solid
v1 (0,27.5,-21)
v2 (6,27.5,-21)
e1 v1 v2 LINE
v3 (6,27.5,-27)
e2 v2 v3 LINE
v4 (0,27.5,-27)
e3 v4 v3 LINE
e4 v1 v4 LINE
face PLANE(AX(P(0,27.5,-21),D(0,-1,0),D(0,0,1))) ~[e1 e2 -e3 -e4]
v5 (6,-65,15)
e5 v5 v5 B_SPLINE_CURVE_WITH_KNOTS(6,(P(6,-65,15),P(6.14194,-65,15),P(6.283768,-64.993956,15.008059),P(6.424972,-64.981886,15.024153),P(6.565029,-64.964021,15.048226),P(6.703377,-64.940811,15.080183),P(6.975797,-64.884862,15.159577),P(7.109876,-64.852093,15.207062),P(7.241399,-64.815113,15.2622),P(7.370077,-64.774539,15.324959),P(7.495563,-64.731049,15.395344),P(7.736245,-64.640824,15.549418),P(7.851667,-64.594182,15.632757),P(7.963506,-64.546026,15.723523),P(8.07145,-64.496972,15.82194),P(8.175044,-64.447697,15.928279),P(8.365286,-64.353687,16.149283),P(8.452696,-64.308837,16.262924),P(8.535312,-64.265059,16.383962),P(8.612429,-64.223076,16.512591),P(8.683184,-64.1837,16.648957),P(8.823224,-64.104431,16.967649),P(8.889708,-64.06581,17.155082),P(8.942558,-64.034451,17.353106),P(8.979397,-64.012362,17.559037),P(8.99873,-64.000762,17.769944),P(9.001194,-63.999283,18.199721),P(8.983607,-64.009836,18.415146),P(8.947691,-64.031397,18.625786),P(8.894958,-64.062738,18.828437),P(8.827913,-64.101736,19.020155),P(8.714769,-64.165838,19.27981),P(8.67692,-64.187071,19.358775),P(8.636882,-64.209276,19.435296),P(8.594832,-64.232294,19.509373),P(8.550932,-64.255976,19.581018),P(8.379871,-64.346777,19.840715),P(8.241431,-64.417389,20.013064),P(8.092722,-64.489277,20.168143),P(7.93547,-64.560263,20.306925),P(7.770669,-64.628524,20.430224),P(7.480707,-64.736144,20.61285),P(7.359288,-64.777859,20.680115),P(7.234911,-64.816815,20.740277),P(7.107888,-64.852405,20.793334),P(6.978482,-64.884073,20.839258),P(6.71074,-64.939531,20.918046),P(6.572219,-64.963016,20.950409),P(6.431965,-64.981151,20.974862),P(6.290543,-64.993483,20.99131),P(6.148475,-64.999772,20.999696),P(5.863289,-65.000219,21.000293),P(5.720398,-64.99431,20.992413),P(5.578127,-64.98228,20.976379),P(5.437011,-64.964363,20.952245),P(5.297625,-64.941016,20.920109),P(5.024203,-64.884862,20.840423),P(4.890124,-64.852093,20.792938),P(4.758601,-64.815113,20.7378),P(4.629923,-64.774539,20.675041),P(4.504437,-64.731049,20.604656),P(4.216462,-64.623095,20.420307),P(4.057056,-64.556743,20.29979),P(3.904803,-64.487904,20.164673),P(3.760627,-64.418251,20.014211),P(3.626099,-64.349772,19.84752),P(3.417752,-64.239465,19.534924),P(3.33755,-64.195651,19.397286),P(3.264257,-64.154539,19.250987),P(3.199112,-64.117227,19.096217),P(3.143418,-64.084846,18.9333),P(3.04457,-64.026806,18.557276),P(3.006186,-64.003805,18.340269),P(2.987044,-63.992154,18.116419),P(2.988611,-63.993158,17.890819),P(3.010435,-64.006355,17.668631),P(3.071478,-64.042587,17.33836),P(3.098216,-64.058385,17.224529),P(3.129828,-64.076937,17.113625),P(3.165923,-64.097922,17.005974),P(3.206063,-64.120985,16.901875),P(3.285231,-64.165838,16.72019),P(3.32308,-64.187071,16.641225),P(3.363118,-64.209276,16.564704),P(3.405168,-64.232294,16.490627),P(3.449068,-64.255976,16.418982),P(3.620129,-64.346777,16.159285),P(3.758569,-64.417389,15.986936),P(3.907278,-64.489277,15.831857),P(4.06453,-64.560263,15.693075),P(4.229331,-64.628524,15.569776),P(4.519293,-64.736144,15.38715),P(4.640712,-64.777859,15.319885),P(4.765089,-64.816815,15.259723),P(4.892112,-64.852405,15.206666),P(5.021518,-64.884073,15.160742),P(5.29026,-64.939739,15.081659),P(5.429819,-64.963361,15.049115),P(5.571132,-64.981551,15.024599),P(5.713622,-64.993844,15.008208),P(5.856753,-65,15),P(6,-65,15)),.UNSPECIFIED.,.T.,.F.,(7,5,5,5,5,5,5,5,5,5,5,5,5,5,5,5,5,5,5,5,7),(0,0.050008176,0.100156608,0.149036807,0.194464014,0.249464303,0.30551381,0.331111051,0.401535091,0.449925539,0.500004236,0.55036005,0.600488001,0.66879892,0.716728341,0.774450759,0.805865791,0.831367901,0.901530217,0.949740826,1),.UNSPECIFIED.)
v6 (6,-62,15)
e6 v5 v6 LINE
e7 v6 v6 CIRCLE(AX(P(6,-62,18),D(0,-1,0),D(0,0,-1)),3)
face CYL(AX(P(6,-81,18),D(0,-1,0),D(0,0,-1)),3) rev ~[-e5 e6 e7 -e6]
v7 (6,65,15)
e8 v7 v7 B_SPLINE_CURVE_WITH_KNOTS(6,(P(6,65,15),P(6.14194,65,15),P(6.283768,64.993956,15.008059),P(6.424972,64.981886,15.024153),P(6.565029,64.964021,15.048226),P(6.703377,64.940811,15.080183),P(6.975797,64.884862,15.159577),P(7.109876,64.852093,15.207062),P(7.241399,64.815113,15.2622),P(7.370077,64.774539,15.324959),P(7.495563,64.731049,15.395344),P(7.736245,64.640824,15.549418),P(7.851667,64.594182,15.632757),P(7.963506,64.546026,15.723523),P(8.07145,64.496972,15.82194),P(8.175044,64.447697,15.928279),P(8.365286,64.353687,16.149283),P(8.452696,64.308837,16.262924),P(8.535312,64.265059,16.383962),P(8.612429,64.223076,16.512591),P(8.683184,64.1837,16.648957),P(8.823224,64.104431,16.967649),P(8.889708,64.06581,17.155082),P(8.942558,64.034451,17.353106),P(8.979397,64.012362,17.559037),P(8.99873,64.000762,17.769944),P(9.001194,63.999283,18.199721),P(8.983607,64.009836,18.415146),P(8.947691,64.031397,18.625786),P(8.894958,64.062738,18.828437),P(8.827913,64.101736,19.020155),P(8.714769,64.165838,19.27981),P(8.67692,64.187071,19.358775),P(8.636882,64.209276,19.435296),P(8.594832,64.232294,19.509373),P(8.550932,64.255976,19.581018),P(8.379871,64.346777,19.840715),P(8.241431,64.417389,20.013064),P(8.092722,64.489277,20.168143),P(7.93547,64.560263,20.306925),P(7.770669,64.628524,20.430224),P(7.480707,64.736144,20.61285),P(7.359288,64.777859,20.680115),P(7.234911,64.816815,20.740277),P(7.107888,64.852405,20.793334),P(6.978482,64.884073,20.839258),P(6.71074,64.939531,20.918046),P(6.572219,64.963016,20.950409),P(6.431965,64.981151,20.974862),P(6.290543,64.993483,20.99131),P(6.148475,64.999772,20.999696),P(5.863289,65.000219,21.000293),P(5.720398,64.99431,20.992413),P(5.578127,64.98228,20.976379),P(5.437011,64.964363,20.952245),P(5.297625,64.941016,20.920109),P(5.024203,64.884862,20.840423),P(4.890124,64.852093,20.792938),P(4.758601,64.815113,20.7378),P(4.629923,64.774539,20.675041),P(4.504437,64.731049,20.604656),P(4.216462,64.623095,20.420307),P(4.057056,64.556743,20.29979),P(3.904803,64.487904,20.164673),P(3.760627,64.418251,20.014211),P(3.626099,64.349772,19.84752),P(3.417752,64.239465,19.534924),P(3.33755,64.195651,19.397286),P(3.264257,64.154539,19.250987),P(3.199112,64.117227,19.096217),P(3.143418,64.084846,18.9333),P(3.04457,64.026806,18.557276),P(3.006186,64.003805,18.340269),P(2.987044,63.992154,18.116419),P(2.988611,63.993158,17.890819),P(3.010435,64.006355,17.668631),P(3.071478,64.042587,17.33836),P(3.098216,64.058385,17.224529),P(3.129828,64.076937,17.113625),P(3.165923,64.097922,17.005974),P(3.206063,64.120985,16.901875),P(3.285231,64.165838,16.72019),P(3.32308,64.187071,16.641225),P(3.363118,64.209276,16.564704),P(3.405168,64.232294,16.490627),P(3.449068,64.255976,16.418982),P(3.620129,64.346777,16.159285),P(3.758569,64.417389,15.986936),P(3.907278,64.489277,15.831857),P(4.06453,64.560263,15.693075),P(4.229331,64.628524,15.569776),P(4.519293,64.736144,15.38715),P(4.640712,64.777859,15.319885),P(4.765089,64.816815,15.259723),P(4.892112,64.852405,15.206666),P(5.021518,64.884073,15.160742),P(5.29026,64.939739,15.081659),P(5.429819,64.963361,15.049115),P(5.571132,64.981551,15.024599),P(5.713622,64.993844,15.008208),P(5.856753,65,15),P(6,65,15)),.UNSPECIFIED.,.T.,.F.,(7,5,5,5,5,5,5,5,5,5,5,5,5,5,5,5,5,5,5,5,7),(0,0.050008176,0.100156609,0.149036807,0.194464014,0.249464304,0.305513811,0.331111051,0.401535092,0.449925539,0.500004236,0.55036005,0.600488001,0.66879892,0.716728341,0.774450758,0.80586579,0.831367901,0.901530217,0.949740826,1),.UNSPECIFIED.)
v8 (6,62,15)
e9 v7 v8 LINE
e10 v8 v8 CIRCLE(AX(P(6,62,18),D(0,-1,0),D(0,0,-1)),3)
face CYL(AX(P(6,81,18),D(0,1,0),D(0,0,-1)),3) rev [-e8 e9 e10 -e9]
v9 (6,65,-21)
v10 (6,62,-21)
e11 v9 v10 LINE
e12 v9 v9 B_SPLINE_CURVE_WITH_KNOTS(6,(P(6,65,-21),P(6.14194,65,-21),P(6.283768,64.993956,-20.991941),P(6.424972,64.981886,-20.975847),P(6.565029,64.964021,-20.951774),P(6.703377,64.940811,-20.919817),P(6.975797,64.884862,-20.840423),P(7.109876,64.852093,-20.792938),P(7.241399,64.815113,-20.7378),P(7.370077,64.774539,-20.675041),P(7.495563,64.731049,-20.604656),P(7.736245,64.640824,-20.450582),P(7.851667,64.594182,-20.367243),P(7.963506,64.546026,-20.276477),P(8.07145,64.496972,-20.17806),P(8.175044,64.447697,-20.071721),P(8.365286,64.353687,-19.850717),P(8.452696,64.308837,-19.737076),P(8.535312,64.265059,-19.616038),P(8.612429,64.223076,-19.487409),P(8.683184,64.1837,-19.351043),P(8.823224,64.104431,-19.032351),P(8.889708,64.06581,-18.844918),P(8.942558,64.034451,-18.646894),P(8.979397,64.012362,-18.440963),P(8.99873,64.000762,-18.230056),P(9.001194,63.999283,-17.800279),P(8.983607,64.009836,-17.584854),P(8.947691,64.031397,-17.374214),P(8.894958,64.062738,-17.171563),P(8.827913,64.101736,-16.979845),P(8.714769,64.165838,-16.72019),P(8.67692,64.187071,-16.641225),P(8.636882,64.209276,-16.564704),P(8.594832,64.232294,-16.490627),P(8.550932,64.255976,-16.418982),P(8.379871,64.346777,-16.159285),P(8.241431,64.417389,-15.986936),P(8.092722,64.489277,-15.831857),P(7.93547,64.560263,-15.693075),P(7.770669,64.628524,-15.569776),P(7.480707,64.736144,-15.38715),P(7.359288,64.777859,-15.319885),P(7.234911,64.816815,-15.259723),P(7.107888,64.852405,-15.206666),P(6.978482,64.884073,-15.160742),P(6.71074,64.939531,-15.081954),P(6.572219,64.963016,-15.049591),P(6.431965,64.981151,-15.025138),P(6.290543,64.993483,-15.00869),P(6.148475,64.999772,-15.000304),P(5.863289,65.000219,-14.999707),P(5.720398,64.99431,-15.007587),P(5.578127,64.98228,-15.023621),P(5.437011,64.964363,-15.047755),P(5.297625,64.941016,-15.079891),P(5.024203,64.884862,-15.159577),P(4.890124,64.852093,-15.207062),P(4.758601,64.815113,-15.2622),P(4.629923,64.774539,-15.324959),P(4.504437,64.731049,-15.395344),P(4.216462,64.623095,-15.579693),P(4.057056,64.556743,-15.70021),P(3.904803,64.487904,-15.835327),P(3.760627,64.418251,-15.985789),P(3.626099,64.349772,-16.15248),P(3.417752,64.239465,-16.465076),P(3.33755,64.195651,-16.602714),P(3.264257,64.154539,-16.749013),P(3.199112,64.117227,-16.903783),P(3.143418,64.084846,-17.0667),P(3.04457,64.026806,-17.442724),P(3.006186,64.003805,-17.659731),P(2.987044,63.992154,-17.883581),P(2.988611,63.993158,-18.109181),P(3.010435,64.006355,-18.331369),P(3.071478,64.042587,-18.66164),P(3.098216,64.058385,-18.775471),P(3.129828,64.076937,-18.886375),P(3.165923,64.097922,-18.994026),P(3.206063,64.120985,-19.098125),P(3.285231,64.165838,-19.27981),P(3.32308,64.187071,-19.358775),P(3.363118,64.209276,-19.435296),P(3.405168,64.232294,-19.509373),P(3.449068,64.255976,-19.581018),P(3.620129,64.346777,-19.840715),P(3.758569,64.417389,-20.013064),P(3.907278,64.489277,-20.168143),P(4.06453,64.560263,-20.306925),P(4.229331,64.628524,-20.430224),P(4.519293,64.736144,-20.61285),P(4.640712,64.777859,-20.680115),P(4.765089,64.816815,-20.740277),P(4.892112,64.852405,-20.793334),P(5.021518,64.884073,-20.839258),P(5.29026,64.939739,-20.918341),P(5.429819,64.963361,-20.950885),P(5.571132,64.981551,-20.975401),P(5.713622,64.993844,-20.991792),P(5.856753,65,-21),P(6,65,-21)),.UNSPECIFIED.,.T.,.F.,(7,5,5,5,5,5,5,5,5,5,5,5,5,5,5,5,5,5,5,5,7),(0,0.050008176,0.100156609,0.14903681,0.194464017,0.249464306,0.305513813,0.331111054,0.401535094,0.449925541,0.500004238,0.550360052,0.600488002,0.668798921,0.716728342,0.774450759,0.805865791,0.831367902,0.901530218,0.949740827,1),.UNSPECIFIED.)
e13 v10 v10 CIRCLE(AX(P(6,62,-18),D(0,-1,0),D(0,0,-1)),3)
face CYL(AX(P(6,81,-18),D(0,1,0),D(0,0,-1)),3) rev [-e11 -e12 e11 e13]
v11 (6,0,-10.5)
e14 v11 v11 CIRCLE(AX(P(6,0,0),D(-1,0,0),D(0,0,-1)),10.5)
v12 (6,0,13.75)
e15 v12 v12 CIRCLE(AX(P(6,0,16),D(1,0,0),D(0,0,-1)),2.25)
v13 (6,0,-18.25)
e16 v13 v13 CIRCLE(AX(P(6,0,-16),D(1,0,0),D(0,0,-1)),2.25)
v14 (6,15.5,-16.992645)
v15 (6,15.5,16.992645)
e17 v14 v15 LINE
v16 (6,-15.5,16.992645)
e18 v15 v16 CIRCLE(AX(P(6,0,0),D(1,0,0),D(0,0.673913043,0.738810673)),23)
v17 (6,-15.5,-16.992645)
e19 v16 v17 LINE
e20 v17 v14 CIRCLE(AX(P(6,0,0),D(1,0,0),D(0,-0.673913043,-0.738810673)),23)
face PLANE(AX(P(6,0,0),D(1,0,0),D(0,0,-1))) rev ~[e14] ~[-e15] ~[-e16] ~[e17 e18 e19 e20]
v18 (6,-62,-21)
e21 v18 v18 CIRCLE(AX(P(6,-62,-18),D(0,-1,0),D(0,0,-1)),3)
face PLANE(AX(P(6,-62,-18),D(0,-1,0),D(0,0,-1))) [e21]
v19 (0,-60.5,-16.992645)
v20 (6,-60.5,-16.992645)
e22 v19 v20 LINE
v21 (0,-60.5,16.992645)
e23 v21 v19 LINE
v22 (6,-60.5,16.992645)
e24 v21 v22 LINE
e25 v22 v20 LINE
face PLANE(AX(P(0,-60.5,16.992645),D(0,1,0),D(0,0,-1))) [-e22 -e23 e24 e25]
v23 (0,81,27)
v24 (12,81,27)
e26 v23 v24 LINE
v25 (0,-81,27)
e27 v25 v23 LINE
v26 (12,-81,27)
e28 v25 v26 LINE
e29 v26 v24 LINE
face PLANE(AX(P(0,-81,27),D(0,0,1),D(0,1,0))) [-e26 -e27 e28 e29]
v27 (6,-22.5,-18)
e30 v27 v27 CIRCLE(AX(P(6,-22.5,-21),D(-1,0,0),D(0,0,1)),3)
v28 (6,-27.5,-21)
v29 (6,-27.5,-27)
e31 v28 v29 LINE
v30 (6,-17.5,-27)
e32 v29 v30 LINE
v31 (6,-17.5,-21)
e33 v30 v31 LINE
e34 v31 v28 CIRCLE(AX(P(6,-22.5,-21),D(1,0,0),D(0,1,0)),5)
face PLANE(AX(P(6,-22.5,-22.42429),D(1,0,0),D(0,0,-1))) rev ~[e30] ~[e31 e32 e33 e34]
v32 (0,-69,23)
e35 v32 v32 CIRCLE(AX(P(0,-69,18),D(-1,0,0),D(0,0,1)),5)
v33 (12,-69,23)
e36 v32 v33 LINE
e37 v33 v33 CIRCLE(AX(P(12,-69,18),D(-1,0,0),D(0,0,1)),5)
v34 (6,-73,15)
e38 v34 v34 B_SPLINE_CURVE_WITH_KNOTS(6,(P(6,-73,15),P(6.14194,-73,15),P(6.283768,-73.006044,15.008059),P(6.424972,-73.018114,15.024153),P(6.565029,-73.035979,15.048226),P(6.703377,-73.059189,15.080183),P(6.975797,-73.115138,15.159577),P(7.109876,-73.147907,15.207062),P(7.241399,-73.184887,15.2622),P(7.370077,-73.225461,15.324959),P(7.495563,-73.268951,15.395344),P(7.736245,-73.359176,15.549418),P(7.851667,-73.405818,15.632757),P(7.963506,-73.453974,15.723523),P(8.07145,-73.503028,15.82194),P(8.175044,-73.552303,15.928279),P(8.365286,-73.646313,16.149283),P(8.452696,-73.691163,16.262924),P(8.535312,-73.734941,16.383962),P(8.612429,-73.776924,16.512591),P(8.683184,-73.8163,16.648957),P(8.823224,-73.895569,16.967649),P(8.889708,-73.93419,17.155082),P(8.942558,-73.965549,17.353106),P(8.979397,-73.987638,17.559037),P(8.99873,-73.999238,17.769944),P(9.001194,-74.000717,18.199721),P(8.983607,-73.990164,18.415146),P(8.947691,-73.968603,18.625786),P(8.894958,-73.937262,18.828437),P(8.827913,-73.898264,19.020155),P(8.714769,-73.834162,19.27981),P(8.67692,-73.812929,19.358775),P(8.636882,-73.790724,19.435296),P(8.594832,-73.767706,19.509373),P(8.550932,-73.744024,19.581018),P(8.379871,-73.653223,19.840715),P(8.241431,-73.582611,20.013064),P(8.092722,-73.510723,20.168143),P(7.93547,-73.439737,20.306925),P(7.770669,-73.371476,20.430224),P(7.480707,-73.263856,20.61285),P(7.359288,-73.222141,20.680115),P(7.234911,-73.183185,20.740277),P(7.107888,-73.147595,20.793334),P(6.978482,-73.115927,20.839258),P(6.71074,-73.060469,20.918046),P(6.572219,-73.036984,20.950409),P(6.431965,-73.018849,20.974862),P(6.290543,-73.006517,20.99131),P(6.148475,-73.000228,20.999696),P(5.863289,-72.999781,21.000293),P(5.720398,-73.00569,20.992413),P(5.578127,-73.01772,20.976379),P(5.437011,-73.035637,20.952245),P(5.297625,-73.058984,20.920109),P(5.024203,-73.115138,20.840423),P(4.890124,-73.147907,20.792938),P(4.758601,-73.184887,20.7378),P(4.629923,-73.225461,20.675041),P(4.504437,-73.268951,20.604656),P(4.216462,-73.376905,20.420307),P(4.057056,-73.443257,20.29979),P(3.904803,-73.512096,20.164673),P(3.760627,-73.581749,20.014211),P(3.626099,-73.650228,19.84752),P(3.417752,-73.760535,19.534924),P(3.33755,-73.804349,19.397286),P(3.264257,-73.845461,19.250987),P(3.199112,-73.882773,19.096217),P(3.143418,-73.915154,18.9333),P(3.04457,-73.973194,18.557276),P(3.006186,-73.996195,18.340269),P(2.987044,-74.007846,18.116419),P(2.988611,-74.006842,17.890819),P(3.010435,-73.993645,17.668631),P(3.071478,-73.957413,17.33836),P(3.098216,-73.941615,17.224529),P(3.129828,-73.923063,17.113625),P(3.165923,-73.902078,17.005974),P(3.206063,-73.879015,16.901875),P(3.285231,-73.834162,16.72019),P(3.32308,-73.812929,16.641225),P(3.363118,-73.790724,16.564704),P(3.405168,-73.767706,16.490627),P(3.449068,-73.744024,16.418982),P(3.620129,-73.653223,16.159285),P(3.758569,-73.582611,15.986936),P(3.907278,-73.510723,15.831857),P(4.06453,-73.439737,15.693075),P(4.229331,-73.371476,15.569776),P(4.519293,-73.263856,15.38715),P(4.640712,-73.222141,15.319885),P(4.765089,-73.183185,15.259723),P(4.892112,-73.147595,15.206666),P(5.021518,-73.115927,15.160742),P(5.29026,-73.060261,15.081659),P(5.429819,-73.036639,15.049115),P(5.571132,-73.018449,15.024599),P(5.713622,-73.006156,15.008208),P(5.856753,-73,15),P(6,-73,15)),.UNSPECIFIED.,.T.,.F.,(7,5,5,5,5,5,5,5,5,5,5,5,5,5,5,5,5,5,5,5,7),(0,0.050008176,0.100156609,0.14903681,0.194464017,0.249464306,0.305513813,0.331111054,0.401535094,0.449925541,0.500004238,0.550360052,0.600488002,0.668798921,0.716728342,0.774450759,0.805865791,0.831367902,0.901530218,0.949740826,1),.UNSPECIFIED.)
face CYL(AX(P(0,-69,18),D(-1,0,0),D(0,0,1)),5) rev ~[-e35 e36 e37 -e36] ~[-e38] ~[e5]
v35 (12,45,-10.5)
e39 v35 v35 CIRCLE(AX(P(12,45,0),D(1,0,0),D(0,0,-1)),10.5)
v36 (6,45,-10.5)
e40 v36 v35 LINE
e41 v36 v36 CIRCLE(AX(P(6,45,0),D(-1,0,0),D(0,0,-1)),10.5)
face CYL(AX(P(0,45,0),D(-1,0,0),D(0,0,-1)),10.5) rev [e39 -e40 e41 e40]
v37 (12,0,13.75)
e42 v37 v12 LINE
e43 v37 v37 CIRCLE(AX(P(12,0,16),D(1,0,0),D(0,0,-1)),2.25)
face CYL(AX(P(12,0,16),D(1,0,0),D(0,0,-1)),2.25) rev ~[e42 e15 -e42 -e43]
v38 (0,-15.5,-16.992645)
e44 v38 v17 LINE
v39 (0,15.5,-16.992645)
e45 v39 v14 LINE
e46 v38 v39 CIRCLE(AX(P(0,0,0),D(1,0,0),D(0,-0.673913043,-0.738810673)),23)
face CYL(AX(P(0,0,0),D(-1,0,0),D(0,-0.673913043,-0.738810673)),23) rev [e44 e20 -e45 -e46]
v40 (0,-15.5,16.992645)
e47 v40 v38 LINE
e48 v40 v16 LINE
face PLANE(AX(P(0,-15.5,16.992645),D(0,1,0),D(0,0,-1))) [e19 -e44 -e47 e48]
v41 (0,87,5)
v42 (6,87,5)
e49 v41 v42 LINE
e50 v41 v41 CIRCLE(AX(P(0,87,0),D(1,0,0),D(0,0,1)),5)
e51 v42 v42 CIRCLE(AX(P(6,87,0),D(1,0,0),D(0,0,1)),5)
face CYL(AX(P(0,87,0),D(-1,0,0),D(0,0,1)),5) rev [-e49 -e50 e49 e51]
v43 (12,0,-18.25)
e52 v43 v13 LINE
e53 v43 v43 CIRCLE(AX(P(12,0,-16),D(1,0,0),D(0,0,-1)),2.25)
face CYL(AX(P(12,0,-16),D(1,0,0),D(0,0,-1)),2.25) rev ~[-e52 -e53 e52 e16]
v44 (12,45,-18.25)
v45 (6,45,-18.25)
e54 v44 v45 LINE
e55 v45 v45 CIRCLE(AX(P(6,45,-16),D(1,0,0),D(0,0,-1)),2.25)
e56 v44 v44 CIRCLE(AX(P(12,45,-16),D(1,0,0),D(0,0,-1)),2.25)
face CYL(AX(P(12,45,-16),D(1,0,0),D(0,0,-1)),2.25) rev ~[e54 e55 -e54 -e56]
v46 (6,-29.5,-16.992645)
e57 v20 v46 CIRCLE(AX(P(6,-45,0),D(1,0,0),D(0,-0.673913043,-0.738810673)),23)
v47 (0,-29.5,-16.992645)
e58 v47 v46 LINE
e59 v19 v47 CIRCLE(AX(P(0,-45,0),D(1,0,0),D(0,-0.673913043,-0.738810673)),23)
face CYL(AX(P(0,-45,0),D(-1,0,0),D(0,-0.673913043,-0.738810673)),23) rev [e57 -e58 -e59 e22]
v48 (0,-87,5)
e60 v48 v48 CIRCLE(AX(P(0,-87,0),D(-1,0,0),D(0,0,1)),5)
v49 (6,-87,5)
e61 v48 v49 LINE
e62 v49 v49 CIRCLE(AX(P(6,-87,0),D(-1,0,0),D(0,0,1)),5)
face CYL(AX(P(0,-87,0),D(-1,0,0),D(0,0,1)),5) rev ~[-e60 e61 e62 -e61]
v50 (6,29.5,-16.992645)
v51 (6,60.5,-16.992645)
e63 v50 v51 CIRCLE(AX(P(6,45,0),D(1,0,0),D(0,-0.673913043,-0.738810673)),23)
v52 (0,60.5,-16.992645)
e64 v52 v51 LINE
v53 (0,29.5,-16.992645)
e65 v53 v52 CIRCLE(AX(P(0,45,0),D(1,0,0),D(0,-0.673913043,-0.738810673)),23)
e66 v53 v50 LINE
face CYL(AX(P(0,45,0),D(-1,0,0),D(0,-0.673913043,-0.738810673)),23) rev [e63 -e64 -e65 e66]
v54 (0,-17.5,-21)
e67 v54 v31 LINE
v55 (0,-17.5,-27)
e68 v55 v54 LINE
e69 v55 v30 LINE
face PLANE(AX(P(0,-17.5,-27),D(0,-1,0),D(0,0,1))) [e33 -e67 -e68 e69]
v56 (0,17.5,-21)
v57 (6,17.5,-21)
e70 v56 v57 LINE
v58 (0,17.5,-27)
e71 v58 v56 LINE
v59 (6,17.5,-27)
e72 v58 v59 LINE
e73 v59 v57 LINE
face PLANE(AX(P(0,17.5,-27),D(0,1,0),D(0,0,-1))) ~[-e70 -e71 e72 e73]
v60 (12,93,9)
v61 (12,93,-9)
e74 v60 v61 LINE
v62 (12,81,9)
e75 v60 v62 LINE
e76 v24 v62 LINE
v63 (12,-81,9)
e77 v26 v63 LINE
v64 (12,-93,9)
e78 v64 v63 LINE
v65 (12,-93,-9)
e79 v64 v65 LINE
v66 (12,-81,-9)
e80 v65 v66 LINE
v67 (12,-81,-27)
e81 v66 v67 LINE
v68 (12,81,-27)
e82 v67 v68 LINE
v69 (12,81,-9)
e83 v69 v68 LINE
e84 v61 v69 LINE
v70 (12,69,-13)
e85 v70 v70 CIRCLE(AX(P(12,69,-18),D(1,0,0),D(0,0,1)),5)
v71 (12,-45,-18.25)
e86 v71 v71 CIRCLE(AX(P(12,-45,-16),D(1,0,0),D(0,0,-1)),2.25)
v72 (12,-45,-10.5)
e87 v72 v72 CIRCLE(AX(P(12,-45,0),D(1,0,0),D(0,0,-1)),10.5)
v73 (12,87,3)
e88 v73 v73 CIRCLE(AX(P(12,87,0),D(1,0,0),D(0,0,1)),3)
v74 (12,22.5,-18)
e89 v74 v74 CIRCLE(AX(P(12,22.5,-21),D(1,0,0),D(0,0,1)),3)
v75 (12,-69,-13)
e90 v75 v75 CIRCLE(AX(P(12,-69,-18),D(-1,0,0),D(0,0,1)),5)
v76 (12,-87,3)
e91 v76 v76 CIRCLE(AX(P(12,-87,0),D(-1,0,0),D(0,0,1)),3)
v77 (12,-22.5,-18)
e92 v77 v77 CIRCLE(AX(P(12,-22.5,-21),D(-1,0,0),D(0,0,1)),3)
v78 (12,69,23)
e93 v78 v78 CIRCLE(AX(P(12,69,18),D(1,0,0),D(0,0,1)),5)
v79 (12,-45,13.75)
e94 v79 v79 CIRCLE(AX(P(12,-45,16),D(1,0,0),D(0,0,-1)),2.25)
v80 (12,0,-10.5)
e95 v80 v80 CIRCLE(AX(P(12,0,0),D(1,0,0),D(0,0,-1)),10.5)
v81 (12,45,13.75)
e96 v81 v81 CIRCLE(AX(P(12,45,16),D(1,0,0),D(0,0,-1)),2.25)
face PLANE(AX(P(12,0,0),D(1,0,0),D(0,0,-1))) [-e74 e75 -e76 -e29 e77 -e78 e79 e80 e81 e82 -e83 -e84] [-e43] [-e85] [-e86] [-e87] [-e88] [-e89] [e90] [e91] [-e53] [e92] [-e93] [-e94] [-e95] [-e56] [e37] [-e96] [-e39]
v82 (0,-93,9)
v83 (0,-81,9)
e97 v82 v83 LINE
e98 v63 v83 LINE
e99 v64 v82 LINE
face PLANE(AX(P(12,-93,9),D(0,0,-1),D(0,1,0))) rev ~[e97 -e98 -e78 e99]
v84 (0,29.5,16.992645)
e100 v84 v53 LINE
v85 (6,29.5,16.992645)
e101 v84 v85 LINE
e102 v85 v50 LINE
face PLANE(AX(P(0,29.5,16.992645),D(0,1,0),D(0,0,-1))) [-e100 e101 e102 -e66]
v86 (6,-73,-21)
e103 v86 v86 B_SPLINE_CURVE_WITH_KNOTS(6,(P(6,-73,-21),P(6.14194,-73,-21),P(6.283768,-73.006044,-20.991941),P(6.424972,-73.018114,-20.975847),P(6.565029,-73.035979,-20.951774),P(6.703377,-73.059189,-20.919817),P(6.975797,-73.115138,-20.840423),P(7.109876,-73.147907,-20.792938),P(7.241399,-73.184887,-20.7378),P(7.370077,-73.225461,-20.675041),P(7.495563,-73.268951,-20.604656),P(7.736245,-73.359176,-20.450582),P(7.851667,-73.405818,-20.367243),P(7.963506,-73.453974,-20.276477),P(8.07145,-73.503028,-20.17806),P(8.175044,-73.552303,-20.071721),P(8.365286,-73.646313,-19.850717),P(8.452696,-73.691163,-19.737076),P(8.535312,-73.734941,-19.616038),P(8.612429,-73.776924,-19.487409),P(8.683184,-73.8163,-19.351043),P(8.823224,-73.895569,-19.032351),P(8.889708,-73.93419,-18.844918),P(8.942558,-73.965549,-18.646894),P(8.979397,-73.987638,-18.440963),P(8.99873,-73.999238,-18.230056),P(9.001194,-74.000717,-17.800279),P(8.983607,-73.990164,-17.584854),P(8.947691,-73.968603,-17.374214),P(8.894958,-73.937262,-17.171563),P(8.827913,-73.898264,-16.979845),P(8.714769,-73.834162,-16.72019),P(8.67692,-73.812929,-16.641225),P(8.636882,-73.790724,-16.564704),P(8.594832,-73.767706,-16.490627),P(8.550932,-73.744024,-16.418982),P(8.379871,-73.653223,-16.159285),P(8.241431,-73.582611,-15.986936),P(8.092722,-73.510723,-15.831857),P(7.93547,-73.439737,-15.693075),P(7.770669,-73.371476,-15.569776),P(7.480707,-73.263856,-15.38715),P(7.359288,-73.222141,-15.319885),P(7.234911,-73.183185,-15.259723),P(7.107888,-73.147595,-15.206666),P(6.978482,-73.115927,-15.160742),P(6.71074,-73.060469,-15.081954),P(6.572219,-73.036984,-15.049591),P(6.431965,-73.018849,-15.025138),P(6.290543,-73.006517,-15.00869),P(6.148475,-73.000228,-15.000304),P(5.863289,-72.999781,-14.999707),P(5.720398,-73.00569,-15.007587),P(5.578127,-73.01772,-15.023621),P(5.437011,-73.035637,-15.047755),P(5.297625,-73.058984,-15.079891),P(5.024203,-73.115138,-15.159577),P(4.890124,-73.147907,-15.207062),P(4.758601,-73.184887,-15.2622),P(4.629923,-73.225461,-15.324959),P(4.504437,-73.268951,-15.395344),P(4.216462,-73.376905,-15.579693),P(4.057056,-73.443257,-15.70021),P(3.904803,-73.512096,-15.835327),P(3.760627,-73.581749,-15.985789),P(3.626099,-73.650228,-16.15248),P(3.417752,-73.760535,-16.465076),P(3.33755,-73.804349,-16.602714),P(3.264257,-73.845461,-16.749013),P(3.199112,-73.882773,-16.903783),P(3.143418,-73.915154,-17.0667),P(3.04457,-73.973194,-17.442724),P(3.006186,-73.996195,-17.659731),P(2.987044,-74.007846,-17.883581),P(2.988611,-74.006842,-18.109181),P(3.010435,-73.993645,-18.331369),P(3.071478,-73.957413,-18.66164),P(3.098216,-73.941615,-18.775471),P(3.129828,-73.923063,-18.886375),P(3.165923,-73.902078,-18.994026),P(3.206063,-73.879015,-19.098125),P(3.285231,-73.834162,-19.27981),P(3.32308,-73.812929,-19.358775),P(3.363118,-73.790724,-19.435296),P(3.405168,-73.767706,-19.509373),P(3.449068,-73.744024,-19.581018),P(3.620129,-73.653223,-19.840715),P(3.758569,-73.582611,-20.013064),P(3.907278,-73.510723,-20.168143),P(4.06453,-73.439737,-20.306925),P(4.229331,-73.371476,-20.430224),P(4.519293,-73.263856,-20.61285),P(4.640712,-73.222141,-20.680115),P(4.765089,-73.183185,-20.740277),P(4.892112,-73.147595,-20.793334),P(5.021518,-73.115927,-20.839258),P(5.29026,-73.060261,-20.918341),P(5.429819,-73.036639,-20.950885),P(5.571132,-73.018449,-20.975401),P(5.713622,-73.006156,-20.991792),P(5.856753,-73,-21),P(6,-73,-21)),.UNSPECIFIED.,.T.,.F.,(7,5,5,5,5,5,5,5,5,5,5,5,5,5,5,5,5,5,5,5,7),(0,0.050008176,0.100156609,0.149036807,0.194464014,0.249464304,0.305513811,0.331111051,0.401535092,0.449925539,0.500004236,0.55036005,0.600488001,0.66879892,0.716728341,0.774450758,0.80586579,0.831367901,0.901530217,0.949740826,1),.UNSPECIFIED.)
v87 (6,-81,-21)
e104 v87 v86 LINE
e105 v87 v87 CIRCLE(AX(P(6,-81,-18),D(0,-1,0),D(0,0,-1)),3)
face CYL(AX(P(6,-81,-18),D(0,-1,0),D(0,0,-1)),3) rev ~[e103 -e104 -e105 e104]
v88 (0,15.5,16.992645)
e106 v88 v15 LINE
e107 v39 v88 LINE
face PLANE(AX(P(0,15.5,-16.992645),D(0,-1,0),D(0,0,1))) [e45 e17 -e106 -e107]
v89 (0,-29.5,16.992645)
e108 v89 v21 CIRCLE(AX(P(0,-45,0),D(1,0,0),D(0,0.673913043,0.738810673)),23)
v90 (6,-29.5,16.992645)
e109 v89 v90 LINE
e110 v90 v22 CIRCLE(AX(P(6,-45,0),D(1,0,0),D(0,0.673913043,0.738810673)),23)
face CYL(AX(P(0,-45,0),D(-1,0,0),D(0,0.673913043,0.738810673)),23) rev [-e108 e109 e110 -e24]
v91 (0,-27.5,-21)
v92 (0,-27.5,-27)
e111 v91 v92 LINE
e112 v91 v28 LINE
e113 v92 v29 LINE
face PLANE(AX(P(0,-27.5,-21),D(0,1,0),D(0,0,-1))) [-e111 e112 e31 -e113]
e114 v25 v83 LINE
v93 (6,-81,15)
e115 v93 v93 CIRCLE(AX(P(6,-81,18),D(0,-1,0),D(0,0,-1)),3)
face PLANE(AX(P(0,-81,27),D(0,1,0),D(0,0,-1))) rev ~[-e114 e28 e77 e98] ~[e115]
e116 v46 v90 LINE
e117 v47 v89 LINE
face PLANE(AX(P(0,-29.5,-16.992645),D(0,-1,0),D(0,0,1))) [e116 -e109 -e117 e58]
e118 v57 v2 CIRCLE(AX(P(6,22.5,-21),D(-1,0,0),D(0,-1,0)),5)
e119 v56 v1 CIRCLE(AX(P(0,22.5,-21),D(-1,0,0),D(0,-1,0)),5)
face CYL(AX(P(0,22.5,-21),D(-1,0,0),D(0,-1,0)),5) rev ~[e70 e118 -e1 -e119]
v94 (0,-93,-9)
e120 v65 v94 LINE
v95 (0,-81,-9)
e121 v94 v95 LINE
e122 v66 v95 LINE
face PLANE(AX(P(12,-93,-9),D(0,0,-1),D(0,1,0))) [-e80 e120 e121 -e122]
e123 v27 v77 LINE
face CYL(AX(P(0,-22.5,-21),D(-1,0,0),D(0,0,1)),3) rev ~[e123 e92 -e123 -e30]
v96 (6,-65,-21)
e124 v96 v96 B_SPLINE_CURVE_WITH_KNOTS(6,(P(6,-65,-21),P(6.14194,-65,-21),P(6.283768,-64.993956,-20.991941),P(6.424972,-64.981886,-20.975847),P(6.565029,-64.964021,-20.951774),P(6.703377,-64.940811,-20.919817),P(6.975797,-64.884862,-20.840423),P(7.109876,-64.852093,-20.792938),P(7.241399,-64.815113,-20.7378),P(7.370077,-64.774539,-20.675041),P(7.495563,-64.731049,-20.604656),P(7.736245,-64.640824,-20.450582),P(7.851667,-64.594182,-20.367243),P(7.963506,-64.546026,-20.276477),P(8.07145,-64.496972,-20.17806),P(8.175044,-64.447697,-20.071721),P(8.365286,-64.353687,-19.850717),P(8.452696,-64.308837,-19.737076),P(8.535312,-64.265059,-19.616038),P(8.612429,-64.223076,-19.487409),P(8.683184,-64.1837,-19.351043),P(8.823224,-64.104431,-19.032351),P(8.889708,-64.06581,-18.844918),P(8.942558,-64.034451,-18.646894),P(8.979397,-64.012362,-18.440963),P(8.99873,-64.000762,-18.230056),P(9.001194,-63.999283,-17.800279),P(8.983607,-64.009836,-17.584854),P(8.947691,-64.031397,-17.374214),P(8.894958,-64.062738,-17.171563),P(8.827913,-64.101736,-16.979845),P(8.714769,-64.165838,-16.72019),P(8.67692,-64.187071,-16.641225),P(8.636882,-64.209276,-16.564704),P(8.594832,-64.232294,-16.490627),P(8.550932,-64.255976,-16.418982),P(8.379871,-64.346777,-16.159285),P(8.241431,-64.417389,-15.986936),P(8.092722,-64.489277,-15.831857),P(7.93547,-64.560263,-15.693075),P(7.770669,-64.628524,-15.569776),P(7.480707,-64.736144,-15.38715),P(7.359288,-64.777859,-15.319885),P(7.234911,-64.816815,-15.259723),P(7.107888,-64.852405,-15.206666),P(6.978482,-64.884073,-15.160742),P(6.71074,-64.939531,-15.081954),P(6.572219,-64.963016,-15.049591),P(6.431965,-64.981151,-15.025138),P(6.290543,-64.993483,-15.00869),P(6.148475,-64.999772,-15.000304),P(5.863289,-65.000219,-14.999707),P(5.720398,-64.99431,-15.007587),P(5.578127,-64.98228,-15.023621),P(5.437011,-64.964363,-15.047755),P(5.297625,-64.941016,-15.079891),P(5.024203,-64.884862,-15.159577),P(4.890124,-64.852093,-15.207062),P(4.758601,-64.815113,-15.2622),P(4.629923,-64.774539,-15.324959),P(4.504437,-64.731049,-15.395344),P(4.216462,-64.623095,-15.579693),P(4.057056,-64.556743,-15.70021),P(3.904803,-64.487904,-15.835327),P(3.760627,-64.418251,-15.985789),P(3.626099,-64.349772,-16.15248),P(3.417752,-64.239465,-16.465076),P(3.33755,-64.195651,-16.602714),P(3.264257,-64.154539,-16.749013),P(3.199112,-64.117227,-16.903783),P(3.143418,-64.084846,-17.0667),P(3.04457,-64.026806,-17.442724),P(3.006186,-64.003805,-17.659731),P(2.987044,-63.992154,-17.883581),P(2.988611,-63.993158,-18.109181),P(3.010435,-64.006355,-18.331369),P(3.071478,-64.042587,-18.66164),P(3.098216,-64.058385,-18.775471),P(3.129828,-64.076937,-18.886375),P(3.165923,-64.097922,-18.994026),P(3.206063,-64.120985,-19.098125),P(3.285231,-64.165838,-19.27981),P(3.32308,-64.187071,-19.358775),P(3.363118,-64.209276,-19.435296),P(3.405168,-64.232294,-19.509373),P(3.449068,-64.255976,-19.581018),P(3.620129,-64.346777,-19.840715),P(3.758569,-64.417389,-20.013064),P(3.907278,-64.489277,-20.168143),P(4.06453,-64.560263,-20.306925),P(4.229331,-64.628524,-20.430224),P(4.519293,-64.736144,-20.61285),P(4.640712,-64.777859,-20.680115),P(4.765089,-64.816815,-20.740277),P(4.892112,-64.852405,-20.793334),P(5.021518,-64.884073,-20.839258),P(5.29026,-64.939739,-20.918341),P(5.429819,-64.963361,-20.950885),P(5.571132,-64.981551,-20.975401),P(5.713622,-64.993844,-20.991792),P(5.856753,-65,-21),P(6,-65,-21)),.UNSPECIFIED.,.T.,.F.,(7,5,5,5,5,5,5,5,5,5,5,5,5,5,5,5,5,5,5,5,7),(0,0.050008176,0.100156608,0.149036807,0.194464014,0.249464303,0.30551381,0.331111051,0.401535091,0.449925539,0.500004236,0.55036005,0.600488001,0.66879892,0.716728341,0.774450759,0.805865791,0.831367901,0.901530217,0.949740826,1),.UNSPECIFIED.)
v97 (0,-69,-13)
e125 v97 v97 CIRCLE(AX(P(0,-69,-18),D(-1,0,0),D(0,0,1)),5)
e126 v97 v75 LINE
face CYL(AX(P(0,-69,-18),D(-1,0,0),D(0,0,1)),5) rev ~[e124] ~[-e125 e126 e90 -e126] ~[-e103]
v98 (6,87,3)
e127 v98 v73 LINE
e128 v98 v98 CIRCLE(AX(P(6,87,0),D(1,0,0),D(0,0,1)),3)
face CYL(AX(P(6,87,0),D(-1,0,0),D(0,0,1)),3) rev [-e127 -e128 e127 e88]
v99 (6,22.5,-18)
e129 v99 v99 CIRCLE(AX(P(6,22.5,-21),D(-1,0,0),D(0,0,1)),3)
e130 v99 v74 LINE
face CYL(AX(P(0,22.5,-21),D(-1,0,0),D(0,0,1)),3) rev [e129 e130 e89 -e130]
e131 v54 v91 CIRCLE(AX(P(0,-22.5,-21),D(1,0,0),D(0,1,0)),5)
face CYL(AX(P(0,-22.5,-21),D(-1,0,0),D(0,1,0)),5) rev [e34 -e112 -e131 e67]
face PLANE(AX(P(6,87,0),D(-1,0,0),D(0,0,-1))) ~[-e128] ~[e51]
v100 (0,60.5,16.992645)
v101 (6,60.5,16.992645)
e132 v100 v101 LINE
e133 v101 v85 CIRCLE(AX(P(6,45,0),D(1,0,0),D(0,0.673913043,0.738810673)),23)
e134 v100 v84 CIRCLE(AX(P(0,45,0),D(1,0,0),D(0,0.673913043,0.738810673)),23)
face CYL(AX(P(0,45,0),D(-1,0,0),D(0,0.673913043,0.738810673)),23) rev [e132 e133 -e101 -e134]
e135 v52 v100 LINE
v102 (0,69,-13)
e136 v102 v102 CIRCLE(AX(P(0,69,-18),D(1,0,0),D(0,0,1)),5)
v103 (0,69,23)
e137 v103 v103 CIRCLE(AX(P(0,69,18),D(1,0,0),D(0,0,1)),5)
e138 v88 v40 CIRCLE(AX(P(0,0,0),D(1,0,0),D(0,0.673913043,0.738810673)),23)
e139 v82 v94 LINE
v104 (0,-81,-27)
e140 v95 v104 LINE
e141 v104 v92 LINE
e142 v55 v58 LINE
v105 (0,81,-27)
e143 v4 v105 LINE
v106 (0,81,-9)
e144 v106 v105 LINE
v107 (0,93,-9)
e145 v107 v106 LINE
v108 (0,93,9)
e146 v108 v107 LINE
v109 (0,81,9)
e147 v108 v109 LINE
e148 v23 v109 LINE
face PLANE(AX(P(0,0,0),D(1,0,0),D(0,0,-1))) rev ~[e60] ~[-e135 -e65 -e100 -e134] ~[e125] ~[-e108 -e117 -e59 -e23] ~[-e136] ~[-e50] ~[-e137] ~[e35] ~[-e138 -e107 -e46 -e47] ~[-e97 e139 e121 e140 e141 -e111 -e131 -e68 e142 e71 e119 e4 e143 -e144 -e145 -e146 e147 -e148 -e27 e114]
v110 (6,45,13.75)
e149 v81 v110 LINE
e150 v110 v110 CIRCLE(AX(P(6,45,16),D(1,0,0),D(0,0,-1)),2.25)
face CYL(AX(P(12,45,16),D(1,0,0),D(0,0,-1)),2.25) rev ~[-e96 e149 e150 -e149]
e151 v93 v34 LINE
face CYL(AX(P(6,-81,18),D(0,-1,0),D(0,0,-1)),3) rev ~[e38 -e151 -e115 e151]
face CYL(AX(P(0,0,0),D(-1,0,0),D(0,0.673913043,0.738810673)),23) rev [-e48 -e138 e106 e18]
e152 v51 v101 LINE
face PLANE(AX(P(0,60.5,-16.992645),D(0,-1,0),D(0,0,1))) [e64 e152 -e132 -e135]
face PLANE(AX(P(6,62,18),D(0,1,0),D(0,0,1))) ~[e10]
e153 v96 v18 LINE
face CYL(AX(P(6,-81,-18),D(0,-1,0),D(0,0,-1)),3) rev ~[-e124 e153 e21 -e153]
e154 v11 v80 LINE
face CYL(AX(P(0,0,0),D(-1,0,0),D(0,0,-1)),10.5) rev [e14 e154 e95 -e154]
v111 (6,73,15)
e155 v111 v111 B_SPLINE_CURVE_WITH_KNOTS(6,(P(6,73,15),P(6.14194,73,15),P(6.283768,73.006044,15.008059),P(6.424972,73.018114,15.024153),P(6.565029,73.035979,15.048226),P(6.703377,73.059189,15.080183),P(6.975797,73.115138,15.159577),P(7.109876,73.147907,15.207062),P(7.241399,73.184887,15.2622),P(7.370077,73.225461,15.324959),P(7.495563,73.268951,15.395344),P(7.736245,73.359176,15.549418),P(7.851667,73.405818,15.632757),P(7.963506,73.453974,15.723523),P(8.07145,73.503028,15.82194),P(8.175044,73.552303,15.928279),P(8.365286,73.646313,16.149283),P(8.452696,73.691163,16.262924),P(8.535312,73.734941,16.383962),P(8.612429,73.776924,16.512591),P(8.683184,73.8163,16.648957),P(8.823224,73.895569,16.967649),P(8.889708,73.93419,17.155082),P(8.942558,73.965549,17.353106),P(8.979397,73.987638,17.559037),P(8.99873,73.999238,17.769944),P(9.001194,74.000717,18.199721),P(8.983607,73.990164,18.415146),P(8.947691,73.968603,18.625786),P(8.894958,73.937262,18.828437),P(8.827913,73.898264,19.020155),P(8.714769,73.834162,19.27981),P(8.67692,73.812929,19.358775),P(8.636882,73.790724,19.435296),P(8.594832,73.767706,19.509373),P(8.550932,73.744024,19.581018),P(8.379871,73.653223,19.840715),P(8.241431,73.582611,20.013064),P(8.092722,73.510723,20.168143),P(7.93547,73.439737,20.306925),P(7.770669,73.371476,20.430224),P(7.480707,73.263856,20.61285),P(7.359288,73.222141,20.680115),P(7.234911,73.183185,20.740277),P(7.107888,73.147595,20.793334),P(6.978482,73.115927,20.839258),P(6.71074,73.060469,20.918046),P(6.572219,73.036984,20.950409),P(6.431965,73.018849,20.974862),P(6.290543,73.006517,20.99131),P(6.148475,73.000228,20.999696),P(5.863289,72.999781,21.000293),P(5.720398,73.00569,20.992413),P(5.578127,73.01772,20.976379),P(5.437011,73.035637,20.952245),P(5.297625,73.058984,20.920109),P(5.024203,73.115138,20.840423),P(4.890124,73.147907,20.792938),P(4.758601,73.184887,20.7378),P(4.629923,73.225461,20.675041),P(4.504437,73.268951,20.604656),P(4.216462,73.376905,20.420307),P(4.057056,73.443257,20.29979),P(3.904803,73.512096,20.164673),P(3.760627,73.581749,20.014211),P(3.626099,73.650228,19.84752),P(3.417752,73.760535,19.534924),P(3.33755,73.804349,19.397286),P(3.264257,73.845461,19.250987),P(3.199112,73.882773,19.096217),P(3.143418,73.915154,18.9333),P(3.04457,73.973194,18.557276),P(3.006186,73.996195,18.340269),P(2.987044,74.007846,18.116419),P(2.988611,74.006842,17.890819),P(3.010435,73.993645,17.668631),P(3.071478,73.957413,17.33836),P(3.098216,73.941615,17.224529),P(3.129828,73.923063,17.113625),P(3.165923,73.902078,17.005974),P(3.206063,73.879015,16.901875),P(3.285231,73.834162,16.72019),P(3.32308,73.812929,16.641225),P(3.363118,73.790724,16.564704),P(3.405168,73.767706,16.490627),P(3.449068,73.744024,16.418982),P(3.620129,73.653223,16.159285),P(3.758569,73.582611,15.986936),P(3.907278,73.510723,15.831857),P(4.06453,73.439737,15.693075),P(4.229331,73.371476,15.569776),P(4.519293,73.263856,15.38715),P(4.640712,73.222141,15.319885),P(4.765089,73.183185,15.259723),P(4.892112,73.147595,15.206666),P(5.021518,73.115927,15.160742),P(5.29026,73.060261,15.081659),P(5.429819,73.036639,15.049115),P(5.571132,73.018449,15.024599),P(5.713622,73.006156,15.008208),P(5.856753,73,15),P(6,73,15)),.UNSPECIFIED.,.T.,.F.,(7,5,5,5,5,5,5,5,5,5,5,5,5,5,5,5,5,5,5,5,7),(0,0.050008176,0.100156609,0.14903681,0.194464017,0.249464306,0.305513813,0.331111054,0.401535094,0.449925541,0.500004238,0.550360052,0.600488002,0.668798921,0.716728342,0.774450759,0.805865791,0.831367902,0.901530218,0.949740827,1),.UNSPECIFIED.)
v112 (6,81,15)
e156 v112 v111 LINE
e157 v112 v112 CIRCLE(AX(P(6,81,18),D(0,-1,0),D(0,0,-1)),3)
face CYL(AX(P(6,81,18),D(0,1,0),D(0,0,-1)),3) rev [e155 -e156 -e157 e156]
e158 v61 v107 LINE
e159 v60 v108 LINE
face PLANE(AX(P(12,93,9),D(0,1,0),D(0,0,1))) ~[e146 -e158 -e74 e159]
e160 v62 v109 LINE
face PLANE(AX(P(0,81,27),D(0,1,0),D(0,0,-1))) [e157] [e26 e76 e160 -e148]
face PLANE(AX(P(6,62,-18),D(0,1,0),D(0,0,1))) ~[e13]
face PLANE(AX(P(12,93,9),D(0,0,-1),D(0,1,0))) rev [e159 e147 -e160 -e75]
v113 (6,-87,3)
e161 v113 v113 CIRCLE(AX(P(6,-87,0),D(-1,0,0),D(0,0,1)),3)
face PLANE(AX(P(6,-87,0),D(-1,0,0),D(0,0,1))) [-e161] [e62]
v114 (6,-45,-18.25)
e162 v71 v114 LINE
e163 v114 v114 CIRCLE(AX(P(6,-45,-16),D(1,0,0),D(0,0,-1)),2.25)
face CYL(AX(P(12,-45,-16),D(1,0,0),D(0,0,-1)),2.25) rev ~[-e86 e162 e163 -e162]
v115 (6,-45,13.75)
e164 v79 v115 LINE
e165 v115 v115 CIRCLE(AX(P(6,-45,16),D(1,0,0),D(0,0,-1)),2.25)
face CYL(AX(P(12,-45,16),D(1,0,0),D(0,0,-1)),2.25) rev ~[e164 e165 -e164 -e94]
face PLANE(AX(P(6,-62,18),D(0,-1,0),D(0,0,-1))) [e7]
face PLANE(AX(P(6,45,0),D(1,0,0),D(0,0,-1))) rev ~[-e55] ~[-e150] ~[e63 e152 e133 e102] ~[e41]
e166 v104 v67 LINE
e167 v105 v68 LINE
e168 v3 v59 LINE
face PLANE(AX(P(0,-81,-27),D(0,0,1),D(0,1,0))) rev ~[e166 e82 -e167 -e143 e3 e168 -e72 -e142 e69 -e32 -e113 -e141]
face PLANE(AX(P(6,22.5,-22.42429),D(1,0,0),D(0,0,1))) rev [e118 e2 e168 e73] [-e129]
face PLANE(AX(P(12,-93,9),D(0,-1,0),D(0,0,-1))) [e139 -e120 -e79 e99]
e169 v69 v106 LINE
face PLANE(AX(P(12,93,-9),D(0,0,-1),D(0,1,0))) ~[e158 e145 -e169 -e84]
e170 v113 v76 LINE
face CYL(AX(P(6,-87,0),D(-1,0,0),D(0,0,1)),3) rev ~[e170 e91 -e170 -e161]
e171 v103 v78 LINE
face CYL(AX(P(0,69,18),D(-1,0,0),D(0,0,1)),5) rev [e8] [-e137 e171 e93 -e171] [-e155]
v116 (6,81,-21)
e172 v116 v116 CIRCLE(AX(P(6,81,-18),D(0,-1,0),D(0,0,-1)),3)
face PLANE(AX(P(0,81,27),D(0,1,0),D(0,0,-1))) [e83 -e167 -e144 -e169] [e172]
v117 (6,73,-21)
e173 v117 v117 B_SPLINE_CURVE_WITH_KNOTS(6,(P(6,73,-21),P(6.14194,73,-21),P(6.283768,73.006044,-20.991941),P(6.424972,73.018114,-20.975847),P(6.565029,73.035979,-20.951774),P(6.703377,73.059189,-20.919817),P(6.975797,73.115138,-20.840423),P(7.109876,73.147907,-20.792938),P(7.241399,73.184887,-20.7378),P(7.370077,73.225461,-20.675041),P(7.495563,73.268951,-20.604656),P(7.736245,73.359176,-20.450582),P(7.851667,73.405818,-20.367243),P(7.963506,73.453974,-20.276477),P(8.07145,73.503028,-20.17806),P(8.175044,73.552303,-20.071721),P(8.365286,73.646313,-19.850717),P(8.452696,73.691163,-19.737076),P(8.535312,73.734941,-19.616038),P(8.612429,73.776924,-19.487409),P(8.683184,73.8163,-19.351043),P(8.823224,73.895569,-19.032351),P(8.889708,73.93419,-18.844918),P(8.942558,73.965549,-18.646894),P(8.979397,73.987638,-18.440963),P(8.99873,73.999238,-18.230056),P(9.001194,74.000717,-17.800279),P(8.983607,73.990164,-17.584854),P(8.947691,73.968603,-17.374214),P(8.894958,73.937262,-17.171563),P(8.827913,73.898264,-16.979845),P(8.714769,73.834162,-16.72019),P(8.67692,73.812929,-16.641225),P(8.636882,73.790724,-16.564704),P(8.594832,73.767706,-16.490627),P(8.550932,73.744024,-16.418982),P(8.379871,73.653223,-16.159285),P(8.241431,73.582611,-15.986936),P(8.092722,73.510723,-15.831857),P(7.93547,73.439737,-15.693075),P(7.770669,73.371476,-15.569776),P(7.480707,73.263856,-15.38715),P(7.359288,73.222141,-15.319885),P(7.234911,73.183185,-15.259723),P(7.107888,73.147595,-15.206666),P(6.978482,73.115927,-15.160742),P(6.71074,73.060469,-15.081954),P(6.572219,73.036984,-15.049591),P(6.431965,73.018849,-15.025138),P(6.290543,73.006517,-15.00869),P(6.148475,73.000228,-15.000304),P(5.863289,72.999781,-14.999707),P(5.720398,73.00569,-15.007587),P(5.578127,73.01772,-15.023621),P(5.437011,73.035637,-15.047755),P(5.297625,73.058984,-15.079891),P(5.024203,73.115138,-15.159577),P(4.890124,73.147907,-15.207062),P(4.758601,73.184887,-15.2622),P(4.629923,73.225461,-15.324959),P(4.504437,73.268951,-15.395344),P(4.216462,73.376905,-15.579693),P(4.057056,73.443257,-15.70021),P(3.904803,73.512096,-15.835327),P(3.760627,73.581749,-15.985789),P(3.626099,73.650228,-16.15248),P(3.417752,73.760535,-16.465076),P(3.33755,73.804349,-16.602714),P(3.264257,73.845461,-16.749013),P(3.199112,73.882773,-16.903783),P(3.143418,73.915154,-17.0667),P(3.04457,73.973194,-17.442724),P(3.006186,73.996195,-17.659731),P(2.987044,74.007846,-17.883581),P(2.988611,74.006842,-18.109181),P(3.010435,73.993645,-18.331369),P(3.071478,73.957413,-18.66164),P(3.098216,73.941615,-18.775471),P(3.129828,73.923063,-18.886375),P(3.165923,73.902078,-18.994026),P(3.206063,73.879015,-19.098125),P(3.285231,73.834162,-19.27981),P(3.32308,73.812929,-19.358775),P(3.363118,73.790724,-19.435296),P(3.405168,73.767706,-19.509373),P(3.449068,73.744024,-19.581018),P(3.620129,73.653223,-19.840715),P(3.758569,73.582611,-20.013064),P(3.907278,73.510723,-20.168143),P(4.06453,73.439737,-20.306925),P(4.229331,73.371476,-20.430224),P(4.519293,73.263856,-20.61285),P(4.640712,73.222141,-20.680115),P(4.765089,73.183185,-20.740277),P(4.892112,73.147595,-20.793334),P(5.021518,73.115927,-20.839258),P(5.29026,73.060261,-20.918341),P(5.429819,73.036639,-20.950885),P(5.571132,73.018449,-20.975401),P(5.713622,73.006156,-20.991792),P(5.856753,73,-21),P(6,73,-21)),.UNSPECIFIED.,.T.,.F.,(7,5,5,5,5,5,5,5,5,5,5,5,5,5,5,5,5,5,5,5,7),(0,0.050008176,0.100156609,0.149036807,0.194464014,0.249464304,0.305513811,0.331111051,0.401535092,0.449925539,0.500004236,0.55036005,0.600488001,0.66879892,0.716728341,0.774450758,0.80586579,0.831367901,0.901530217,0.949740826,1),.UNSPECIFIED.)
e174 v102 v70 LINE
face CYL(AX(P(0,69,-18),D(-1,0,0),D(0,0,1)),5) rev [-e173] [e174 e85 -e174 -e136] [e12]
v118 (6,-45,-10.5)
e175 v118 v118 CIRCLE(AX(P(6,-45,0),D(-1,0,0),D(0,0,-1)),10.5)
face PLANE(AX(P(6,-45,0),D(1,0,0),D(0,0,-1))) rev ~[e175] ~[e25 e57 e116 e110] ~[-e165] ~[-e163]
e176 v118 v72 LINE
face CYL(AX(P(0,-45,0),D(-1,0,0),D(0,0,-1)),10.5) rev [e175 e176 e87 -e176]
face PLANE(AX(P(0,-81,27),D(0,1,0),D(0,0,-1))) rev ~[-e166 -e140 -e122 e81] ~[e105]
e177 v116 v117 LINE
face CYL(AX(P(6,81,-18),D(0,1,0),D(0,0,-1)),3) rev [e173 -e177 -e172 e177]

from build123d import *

# Parameters (mm, degrees)
SKETCH2_W            = 54
SKETCH2_H            = 162
SKETCH2_R            = 10.5
BOSS_EXTRUDE1_DEPTH  = 12
SKETCH3_W            = 18
SKETCH3_H            = 12
BOSS_EXTRUDE2_DEPTH  = 12
CUT_EXTRUDE1_REACH   = 99.581
SKETCH4_R            = 2.25
LPATTERN1_COUNT      = 3
LPATTERN1_PITCH      = 45
CUT_EXTRUDE2_DEPTH   = 6
LPATTERN2_COUNT      = 2
LPATTERN2_PITCH      = 45
LPATTERN2_COUNT_DIR2 = 2
LPATTERN2_PITCH_DIR2 = 45
CUT_EXTRUDE3_REACH   = 99.581
SKETCH6_R            = 5
SKETCH8_R            = 5
CUT_EXTRUDE4_DEPTH   = 6
CUT_EXTRUDE5_REACH   = 99.026
SKETCH9_R            = 3
SKETCH10_R           = 3
CUT_EXTRUDE6_DEPTH   = 19
CUT_EXTRUDE7_REACH   = 99.581
SKETCH11_R           = 3
CUT_EXTRUDE8_DEPTH   = 6


with BuildPart() as part:
    # Sketch2 → Boss-Extrude1 (new body)
    with BuildSketch(Plane(origin=(0, 0, 0), x_dir=(0, 0, -1), z_dir=(1, 0, 0))):
        Rectangle(SKETCH2_W, SKETCH2_H)
        Circle(SKETCH2_R, mode=Mode.SUBTRACT)
        with Locations((0, 45)):
            Circle(SKETCH2_R, mode=Mode.SUBTRACT)
        with Locations((0, -45)):
            Circle(SKETCH2_R, mode=Mode.SUBTRACT)
    extrude(amount=BOSS_EXTRUDE1_DEPTH)

    # Sketch3 → Boss-Extrude2 (add)
    with BuildSketch(Plane(origin=(12, 0, 0), x_dir=(0, 0, -1), z_dir=(1, 0, 0))):
        with Locations((0, -87)):
            Rectangle(SKETCH3_W, SKETCH3_H)
    boss_extrude2 = extrude(amount=-BOSS_EXTRUDE2_DEPTH)

    # Mirror1: Boss-Extrude2 across plane
    add(boss_extrude2.mirror(Plane.ZX))

    # Sketch4 → Cut-Extrude1 (cut, up to next)
    with BuildSketch(Plane(origin=(12, 0, 0), x_dir=(0, 0, -1), z_dir=(1, 0, 0)), mode=Mode.PRIVATE) as cut_extrude1_sk1:
        with Locations((-16, -45)):
            Circle(SKETCH4_R)
    cut_extrude1_tool1 = extrude(cut_extrude1_sk1.sketch, amount=-CUT_EXTRUDE1_REACH, mode=Mode.PRIVATE) & part.part
    # Sketch4 → Cut-Extrude1 (cut, up to next)
    with BuildSketch(Plane(origin=(12, 0, 0), x_dir=(0, 0, -1), z_dir=(1, 0, 0)), mode=Mode.PRIVATE) as cut_extrude1_sk2:
        with Locations((16, -45)):
            Circle(SKETCH4_R)
    cut_extrude1_tool2 = extrude(cut_extrude1_sk2.sketch, amount=-CUT_EXTRUDE1_REACH, mode=Mode.PRIVATE) & part.part
    cut_extrude1_1 = cut_extrude1_tool1.solids().sort_by_distance((12, -45, 16))[0]
    add(cut_extrude1_1, mode=Mode.SUBTRACT)
    cut_extrude1_2 = cut_extrude1_tool2.solids().sort_by_distance((12, -45, -16))[0]
    add(cut_extrude1_2, mode=Mode.SUBTRACT)
    cut_extrude1 = cut_extrude1_1 + cut_extrude1_2  # Cut-Extrude1 as one shape, for the pattern or mirror that repeats it

    # LPattern1: Cut-Extrude1 ×3
    with Locations(*[(0, i * LPATTERN1_PITCH, 0) for i in range(1, LPATTERN1_COUNT)]):
        add(cut_extrude1, mode=Mode.SUBTRACT)

    # Sketch5 → Cut-Extrude2 (cut)
    with BuildSketch(Plane.ZY):
        with BuildLine():
            Line((-16.992645468, 15.5), (16.992645468, 15.5))
            ThreePointArc((16.992645468, 15.5), (23, 0), (16.992645468, -15.5))
            Line((16.992645468, -15.5), (-16.992645468, -15.5))
            ThreePointArc((-16.992645468, -15.5), (-23, 0), (-16.992645468, 15.5))
        make_face()
    cut_extrude2 = extrude(amount=-CUT_EXTRUDE2_DEPTH, mode=Mode.SUBTRACT)

    # LPattern2: Cut-Extrude2 2 × 2
    with Locations(*[Vector(0, -1, 0) * (i * LPATTERN2_PITCH) + Vector(0, 1, 0) * (j * LPATTERN2_PITCH_DIR2) for i in range(LPATTERN2_COUNT) for j in range(LPATTERN2_COUNT_DIR2) if (i, j) != (0, 0)]):
        add(cut_extrude2, mode=Mode.SUBTRACT)

    # Sketch6 → Cut-Extrude3 (cut, up to next)
    with BuildSketch(Plane.ZY, mode=Mode.PRIVATE) as cut_extrude3_sk1:
        with Locations((-18, -69)):
            Circle(SKETCH6_R)
    cut_extrude3_tool1 = extrude(cut_extrude3_sk1.sketch, amount=-CUT_EXTRUDE3_REACH, mode=Mode.PRIVATE) & part.part
    # Sketch6 → Cut-Extrude3 (cut, up to next)
    with BuildSketch(Plane.ZY, mode=Mode.PRIVATE) as cut_extrude3_sk2:
        with Locations((18, -69)):
            Circle(SKETCH6_R)
    cut_extrude3_tool2 = extrude(cut_extrude3_sk2.sketch, amount=-CUT_EXTRUDE3_REACH, mode=Mode.PRIVATE) & part.part
    cut_extrude3_1 = cut_extrude3_tool1.solids().sort_by_distance((0, -69, -18))[0]
    add(cut_extrude3_1, mode=Mode.SUBTRACT)
    cut_extrude3_2 = cut_extrude3_tool2.solids().sort_by_distance((0, -69, 18))[0]
    add(cut_extrude3_2, mode=Mode.SUBTRACT)
    cut_extrude3 = cut_extrude3_1 + cut_extrude3_2  # Cut-Extrude3 as one shape, for the pattern or mirror that repeats it

    # Sketch8 → Cut-Extrude4 (cut)
    with BuildSketch(Plane.ZY):
        with Locations((0, -87)):
            Circle(SKETCH8_R)
    cut_extrude4 = extrude(amount=-CUT_EXTRUDE4_DEPTH, mode=Mode.SUBTRACT)

    # Sketch9 → Cut-Extrude5 (cut, up to next)
    with BuildSketch(Plane.ZY.offset(-6), mode=Mode.PRIVATE) as cut_extrude5_sk1:
        with Locations((0, -87)):
            Circle(SKETCH9_R)
    cut_extrude5_tool1 = extrude(cut_extrude5_sk1.sketch, amount=-CUT_EXTRUDE5_REACH, mode=Mode.PRIVATE) & part.part
    cut_extrude5 = cut_extrude5_tool1.solids().sort_by_distance((6, -87, 0))[0]
    add(cut_extrude5, mode=Mode.SUBTRACT)

    # Sketch10 → Cut-Extrude6 (cut)
    with BuildSketch(Plane.XZ.offset(81)):
        with Locations((6, -18)):
            Circle(SKETCH10_R)
        with Locations((6, 18)):
            Circle(SKETCH10_R)
    cut_extrude6 = extrude(amount=-CUT_EXTRUDE6_DEPTH, mode=Mode.SUBTRACT)

    # Sketch11 → Cut-Extrude7 (cut, up to next)
    with BuildSketch(Plane.ZY, mode=Mode.PRIVATE) as cut_extrude7_sk1:
        with Locations((-21, -22.5)):
            Circle(SKETCH11_R)
    cut_extrude7_tool1 = extrude(cut_extrude7_sk1.sketch, amount=-CUT_EXTRUDE7_REACH, mode=Mode.PRIVATE) & part.part
    cut_extrude7 = cut_extrude7_tool1.solids().sort_by_distance((0, -22.5, -21))[0]
    add(cut_extrude7, mode=Mode.SUBTRACT)

    # Sketch12 → Cut-Extrude8 (cut)
    with BuildSketch(Plane.ZY):
        with BuildLine():
            Line((-21, -27.5), (-27, -27.5))
            Line((-27, -27.5), (-27, -17.5))
            Line((-27, -17.5), (-21, -17.5))
            ThreePointArc((-21, -17.5), (-16, -22.5), (-21, -27.5))
        make_face()
    cut_extrude8 = extrude(amount=-CUT_EXTRUDE8_DEPTH, mode=Mode.SUBTRACT)

    # Mirror2: Cut-Extrude3, Cut-Extrude4, Cut-Extrude5, Cut-Extrude6, Cut-Extrude7, Cut-Extrude8 across plane
    add(cut_extrude3.mirror(Plane.ZX), mode=Mode.SUBTRACT)
    add(cut_extrude4.mirror(Plane.ZX), mode=Mode.SUBTRACT)
    add(cut_extrude5.mirror(Plane.ZX), mode=Mode.SUBTRACT)
    add(cut_extrude6.mirror(Plane.ZX), mode=Mode.SUBTRACT)
    add(cut_extrude7.mirror(Plane.ZX), mode=Mode.SUBTRACT)
    add(cut_extrude8.mirror(Plane.ZX), mode=Mode.SUBTRACT)


solid = part.part
